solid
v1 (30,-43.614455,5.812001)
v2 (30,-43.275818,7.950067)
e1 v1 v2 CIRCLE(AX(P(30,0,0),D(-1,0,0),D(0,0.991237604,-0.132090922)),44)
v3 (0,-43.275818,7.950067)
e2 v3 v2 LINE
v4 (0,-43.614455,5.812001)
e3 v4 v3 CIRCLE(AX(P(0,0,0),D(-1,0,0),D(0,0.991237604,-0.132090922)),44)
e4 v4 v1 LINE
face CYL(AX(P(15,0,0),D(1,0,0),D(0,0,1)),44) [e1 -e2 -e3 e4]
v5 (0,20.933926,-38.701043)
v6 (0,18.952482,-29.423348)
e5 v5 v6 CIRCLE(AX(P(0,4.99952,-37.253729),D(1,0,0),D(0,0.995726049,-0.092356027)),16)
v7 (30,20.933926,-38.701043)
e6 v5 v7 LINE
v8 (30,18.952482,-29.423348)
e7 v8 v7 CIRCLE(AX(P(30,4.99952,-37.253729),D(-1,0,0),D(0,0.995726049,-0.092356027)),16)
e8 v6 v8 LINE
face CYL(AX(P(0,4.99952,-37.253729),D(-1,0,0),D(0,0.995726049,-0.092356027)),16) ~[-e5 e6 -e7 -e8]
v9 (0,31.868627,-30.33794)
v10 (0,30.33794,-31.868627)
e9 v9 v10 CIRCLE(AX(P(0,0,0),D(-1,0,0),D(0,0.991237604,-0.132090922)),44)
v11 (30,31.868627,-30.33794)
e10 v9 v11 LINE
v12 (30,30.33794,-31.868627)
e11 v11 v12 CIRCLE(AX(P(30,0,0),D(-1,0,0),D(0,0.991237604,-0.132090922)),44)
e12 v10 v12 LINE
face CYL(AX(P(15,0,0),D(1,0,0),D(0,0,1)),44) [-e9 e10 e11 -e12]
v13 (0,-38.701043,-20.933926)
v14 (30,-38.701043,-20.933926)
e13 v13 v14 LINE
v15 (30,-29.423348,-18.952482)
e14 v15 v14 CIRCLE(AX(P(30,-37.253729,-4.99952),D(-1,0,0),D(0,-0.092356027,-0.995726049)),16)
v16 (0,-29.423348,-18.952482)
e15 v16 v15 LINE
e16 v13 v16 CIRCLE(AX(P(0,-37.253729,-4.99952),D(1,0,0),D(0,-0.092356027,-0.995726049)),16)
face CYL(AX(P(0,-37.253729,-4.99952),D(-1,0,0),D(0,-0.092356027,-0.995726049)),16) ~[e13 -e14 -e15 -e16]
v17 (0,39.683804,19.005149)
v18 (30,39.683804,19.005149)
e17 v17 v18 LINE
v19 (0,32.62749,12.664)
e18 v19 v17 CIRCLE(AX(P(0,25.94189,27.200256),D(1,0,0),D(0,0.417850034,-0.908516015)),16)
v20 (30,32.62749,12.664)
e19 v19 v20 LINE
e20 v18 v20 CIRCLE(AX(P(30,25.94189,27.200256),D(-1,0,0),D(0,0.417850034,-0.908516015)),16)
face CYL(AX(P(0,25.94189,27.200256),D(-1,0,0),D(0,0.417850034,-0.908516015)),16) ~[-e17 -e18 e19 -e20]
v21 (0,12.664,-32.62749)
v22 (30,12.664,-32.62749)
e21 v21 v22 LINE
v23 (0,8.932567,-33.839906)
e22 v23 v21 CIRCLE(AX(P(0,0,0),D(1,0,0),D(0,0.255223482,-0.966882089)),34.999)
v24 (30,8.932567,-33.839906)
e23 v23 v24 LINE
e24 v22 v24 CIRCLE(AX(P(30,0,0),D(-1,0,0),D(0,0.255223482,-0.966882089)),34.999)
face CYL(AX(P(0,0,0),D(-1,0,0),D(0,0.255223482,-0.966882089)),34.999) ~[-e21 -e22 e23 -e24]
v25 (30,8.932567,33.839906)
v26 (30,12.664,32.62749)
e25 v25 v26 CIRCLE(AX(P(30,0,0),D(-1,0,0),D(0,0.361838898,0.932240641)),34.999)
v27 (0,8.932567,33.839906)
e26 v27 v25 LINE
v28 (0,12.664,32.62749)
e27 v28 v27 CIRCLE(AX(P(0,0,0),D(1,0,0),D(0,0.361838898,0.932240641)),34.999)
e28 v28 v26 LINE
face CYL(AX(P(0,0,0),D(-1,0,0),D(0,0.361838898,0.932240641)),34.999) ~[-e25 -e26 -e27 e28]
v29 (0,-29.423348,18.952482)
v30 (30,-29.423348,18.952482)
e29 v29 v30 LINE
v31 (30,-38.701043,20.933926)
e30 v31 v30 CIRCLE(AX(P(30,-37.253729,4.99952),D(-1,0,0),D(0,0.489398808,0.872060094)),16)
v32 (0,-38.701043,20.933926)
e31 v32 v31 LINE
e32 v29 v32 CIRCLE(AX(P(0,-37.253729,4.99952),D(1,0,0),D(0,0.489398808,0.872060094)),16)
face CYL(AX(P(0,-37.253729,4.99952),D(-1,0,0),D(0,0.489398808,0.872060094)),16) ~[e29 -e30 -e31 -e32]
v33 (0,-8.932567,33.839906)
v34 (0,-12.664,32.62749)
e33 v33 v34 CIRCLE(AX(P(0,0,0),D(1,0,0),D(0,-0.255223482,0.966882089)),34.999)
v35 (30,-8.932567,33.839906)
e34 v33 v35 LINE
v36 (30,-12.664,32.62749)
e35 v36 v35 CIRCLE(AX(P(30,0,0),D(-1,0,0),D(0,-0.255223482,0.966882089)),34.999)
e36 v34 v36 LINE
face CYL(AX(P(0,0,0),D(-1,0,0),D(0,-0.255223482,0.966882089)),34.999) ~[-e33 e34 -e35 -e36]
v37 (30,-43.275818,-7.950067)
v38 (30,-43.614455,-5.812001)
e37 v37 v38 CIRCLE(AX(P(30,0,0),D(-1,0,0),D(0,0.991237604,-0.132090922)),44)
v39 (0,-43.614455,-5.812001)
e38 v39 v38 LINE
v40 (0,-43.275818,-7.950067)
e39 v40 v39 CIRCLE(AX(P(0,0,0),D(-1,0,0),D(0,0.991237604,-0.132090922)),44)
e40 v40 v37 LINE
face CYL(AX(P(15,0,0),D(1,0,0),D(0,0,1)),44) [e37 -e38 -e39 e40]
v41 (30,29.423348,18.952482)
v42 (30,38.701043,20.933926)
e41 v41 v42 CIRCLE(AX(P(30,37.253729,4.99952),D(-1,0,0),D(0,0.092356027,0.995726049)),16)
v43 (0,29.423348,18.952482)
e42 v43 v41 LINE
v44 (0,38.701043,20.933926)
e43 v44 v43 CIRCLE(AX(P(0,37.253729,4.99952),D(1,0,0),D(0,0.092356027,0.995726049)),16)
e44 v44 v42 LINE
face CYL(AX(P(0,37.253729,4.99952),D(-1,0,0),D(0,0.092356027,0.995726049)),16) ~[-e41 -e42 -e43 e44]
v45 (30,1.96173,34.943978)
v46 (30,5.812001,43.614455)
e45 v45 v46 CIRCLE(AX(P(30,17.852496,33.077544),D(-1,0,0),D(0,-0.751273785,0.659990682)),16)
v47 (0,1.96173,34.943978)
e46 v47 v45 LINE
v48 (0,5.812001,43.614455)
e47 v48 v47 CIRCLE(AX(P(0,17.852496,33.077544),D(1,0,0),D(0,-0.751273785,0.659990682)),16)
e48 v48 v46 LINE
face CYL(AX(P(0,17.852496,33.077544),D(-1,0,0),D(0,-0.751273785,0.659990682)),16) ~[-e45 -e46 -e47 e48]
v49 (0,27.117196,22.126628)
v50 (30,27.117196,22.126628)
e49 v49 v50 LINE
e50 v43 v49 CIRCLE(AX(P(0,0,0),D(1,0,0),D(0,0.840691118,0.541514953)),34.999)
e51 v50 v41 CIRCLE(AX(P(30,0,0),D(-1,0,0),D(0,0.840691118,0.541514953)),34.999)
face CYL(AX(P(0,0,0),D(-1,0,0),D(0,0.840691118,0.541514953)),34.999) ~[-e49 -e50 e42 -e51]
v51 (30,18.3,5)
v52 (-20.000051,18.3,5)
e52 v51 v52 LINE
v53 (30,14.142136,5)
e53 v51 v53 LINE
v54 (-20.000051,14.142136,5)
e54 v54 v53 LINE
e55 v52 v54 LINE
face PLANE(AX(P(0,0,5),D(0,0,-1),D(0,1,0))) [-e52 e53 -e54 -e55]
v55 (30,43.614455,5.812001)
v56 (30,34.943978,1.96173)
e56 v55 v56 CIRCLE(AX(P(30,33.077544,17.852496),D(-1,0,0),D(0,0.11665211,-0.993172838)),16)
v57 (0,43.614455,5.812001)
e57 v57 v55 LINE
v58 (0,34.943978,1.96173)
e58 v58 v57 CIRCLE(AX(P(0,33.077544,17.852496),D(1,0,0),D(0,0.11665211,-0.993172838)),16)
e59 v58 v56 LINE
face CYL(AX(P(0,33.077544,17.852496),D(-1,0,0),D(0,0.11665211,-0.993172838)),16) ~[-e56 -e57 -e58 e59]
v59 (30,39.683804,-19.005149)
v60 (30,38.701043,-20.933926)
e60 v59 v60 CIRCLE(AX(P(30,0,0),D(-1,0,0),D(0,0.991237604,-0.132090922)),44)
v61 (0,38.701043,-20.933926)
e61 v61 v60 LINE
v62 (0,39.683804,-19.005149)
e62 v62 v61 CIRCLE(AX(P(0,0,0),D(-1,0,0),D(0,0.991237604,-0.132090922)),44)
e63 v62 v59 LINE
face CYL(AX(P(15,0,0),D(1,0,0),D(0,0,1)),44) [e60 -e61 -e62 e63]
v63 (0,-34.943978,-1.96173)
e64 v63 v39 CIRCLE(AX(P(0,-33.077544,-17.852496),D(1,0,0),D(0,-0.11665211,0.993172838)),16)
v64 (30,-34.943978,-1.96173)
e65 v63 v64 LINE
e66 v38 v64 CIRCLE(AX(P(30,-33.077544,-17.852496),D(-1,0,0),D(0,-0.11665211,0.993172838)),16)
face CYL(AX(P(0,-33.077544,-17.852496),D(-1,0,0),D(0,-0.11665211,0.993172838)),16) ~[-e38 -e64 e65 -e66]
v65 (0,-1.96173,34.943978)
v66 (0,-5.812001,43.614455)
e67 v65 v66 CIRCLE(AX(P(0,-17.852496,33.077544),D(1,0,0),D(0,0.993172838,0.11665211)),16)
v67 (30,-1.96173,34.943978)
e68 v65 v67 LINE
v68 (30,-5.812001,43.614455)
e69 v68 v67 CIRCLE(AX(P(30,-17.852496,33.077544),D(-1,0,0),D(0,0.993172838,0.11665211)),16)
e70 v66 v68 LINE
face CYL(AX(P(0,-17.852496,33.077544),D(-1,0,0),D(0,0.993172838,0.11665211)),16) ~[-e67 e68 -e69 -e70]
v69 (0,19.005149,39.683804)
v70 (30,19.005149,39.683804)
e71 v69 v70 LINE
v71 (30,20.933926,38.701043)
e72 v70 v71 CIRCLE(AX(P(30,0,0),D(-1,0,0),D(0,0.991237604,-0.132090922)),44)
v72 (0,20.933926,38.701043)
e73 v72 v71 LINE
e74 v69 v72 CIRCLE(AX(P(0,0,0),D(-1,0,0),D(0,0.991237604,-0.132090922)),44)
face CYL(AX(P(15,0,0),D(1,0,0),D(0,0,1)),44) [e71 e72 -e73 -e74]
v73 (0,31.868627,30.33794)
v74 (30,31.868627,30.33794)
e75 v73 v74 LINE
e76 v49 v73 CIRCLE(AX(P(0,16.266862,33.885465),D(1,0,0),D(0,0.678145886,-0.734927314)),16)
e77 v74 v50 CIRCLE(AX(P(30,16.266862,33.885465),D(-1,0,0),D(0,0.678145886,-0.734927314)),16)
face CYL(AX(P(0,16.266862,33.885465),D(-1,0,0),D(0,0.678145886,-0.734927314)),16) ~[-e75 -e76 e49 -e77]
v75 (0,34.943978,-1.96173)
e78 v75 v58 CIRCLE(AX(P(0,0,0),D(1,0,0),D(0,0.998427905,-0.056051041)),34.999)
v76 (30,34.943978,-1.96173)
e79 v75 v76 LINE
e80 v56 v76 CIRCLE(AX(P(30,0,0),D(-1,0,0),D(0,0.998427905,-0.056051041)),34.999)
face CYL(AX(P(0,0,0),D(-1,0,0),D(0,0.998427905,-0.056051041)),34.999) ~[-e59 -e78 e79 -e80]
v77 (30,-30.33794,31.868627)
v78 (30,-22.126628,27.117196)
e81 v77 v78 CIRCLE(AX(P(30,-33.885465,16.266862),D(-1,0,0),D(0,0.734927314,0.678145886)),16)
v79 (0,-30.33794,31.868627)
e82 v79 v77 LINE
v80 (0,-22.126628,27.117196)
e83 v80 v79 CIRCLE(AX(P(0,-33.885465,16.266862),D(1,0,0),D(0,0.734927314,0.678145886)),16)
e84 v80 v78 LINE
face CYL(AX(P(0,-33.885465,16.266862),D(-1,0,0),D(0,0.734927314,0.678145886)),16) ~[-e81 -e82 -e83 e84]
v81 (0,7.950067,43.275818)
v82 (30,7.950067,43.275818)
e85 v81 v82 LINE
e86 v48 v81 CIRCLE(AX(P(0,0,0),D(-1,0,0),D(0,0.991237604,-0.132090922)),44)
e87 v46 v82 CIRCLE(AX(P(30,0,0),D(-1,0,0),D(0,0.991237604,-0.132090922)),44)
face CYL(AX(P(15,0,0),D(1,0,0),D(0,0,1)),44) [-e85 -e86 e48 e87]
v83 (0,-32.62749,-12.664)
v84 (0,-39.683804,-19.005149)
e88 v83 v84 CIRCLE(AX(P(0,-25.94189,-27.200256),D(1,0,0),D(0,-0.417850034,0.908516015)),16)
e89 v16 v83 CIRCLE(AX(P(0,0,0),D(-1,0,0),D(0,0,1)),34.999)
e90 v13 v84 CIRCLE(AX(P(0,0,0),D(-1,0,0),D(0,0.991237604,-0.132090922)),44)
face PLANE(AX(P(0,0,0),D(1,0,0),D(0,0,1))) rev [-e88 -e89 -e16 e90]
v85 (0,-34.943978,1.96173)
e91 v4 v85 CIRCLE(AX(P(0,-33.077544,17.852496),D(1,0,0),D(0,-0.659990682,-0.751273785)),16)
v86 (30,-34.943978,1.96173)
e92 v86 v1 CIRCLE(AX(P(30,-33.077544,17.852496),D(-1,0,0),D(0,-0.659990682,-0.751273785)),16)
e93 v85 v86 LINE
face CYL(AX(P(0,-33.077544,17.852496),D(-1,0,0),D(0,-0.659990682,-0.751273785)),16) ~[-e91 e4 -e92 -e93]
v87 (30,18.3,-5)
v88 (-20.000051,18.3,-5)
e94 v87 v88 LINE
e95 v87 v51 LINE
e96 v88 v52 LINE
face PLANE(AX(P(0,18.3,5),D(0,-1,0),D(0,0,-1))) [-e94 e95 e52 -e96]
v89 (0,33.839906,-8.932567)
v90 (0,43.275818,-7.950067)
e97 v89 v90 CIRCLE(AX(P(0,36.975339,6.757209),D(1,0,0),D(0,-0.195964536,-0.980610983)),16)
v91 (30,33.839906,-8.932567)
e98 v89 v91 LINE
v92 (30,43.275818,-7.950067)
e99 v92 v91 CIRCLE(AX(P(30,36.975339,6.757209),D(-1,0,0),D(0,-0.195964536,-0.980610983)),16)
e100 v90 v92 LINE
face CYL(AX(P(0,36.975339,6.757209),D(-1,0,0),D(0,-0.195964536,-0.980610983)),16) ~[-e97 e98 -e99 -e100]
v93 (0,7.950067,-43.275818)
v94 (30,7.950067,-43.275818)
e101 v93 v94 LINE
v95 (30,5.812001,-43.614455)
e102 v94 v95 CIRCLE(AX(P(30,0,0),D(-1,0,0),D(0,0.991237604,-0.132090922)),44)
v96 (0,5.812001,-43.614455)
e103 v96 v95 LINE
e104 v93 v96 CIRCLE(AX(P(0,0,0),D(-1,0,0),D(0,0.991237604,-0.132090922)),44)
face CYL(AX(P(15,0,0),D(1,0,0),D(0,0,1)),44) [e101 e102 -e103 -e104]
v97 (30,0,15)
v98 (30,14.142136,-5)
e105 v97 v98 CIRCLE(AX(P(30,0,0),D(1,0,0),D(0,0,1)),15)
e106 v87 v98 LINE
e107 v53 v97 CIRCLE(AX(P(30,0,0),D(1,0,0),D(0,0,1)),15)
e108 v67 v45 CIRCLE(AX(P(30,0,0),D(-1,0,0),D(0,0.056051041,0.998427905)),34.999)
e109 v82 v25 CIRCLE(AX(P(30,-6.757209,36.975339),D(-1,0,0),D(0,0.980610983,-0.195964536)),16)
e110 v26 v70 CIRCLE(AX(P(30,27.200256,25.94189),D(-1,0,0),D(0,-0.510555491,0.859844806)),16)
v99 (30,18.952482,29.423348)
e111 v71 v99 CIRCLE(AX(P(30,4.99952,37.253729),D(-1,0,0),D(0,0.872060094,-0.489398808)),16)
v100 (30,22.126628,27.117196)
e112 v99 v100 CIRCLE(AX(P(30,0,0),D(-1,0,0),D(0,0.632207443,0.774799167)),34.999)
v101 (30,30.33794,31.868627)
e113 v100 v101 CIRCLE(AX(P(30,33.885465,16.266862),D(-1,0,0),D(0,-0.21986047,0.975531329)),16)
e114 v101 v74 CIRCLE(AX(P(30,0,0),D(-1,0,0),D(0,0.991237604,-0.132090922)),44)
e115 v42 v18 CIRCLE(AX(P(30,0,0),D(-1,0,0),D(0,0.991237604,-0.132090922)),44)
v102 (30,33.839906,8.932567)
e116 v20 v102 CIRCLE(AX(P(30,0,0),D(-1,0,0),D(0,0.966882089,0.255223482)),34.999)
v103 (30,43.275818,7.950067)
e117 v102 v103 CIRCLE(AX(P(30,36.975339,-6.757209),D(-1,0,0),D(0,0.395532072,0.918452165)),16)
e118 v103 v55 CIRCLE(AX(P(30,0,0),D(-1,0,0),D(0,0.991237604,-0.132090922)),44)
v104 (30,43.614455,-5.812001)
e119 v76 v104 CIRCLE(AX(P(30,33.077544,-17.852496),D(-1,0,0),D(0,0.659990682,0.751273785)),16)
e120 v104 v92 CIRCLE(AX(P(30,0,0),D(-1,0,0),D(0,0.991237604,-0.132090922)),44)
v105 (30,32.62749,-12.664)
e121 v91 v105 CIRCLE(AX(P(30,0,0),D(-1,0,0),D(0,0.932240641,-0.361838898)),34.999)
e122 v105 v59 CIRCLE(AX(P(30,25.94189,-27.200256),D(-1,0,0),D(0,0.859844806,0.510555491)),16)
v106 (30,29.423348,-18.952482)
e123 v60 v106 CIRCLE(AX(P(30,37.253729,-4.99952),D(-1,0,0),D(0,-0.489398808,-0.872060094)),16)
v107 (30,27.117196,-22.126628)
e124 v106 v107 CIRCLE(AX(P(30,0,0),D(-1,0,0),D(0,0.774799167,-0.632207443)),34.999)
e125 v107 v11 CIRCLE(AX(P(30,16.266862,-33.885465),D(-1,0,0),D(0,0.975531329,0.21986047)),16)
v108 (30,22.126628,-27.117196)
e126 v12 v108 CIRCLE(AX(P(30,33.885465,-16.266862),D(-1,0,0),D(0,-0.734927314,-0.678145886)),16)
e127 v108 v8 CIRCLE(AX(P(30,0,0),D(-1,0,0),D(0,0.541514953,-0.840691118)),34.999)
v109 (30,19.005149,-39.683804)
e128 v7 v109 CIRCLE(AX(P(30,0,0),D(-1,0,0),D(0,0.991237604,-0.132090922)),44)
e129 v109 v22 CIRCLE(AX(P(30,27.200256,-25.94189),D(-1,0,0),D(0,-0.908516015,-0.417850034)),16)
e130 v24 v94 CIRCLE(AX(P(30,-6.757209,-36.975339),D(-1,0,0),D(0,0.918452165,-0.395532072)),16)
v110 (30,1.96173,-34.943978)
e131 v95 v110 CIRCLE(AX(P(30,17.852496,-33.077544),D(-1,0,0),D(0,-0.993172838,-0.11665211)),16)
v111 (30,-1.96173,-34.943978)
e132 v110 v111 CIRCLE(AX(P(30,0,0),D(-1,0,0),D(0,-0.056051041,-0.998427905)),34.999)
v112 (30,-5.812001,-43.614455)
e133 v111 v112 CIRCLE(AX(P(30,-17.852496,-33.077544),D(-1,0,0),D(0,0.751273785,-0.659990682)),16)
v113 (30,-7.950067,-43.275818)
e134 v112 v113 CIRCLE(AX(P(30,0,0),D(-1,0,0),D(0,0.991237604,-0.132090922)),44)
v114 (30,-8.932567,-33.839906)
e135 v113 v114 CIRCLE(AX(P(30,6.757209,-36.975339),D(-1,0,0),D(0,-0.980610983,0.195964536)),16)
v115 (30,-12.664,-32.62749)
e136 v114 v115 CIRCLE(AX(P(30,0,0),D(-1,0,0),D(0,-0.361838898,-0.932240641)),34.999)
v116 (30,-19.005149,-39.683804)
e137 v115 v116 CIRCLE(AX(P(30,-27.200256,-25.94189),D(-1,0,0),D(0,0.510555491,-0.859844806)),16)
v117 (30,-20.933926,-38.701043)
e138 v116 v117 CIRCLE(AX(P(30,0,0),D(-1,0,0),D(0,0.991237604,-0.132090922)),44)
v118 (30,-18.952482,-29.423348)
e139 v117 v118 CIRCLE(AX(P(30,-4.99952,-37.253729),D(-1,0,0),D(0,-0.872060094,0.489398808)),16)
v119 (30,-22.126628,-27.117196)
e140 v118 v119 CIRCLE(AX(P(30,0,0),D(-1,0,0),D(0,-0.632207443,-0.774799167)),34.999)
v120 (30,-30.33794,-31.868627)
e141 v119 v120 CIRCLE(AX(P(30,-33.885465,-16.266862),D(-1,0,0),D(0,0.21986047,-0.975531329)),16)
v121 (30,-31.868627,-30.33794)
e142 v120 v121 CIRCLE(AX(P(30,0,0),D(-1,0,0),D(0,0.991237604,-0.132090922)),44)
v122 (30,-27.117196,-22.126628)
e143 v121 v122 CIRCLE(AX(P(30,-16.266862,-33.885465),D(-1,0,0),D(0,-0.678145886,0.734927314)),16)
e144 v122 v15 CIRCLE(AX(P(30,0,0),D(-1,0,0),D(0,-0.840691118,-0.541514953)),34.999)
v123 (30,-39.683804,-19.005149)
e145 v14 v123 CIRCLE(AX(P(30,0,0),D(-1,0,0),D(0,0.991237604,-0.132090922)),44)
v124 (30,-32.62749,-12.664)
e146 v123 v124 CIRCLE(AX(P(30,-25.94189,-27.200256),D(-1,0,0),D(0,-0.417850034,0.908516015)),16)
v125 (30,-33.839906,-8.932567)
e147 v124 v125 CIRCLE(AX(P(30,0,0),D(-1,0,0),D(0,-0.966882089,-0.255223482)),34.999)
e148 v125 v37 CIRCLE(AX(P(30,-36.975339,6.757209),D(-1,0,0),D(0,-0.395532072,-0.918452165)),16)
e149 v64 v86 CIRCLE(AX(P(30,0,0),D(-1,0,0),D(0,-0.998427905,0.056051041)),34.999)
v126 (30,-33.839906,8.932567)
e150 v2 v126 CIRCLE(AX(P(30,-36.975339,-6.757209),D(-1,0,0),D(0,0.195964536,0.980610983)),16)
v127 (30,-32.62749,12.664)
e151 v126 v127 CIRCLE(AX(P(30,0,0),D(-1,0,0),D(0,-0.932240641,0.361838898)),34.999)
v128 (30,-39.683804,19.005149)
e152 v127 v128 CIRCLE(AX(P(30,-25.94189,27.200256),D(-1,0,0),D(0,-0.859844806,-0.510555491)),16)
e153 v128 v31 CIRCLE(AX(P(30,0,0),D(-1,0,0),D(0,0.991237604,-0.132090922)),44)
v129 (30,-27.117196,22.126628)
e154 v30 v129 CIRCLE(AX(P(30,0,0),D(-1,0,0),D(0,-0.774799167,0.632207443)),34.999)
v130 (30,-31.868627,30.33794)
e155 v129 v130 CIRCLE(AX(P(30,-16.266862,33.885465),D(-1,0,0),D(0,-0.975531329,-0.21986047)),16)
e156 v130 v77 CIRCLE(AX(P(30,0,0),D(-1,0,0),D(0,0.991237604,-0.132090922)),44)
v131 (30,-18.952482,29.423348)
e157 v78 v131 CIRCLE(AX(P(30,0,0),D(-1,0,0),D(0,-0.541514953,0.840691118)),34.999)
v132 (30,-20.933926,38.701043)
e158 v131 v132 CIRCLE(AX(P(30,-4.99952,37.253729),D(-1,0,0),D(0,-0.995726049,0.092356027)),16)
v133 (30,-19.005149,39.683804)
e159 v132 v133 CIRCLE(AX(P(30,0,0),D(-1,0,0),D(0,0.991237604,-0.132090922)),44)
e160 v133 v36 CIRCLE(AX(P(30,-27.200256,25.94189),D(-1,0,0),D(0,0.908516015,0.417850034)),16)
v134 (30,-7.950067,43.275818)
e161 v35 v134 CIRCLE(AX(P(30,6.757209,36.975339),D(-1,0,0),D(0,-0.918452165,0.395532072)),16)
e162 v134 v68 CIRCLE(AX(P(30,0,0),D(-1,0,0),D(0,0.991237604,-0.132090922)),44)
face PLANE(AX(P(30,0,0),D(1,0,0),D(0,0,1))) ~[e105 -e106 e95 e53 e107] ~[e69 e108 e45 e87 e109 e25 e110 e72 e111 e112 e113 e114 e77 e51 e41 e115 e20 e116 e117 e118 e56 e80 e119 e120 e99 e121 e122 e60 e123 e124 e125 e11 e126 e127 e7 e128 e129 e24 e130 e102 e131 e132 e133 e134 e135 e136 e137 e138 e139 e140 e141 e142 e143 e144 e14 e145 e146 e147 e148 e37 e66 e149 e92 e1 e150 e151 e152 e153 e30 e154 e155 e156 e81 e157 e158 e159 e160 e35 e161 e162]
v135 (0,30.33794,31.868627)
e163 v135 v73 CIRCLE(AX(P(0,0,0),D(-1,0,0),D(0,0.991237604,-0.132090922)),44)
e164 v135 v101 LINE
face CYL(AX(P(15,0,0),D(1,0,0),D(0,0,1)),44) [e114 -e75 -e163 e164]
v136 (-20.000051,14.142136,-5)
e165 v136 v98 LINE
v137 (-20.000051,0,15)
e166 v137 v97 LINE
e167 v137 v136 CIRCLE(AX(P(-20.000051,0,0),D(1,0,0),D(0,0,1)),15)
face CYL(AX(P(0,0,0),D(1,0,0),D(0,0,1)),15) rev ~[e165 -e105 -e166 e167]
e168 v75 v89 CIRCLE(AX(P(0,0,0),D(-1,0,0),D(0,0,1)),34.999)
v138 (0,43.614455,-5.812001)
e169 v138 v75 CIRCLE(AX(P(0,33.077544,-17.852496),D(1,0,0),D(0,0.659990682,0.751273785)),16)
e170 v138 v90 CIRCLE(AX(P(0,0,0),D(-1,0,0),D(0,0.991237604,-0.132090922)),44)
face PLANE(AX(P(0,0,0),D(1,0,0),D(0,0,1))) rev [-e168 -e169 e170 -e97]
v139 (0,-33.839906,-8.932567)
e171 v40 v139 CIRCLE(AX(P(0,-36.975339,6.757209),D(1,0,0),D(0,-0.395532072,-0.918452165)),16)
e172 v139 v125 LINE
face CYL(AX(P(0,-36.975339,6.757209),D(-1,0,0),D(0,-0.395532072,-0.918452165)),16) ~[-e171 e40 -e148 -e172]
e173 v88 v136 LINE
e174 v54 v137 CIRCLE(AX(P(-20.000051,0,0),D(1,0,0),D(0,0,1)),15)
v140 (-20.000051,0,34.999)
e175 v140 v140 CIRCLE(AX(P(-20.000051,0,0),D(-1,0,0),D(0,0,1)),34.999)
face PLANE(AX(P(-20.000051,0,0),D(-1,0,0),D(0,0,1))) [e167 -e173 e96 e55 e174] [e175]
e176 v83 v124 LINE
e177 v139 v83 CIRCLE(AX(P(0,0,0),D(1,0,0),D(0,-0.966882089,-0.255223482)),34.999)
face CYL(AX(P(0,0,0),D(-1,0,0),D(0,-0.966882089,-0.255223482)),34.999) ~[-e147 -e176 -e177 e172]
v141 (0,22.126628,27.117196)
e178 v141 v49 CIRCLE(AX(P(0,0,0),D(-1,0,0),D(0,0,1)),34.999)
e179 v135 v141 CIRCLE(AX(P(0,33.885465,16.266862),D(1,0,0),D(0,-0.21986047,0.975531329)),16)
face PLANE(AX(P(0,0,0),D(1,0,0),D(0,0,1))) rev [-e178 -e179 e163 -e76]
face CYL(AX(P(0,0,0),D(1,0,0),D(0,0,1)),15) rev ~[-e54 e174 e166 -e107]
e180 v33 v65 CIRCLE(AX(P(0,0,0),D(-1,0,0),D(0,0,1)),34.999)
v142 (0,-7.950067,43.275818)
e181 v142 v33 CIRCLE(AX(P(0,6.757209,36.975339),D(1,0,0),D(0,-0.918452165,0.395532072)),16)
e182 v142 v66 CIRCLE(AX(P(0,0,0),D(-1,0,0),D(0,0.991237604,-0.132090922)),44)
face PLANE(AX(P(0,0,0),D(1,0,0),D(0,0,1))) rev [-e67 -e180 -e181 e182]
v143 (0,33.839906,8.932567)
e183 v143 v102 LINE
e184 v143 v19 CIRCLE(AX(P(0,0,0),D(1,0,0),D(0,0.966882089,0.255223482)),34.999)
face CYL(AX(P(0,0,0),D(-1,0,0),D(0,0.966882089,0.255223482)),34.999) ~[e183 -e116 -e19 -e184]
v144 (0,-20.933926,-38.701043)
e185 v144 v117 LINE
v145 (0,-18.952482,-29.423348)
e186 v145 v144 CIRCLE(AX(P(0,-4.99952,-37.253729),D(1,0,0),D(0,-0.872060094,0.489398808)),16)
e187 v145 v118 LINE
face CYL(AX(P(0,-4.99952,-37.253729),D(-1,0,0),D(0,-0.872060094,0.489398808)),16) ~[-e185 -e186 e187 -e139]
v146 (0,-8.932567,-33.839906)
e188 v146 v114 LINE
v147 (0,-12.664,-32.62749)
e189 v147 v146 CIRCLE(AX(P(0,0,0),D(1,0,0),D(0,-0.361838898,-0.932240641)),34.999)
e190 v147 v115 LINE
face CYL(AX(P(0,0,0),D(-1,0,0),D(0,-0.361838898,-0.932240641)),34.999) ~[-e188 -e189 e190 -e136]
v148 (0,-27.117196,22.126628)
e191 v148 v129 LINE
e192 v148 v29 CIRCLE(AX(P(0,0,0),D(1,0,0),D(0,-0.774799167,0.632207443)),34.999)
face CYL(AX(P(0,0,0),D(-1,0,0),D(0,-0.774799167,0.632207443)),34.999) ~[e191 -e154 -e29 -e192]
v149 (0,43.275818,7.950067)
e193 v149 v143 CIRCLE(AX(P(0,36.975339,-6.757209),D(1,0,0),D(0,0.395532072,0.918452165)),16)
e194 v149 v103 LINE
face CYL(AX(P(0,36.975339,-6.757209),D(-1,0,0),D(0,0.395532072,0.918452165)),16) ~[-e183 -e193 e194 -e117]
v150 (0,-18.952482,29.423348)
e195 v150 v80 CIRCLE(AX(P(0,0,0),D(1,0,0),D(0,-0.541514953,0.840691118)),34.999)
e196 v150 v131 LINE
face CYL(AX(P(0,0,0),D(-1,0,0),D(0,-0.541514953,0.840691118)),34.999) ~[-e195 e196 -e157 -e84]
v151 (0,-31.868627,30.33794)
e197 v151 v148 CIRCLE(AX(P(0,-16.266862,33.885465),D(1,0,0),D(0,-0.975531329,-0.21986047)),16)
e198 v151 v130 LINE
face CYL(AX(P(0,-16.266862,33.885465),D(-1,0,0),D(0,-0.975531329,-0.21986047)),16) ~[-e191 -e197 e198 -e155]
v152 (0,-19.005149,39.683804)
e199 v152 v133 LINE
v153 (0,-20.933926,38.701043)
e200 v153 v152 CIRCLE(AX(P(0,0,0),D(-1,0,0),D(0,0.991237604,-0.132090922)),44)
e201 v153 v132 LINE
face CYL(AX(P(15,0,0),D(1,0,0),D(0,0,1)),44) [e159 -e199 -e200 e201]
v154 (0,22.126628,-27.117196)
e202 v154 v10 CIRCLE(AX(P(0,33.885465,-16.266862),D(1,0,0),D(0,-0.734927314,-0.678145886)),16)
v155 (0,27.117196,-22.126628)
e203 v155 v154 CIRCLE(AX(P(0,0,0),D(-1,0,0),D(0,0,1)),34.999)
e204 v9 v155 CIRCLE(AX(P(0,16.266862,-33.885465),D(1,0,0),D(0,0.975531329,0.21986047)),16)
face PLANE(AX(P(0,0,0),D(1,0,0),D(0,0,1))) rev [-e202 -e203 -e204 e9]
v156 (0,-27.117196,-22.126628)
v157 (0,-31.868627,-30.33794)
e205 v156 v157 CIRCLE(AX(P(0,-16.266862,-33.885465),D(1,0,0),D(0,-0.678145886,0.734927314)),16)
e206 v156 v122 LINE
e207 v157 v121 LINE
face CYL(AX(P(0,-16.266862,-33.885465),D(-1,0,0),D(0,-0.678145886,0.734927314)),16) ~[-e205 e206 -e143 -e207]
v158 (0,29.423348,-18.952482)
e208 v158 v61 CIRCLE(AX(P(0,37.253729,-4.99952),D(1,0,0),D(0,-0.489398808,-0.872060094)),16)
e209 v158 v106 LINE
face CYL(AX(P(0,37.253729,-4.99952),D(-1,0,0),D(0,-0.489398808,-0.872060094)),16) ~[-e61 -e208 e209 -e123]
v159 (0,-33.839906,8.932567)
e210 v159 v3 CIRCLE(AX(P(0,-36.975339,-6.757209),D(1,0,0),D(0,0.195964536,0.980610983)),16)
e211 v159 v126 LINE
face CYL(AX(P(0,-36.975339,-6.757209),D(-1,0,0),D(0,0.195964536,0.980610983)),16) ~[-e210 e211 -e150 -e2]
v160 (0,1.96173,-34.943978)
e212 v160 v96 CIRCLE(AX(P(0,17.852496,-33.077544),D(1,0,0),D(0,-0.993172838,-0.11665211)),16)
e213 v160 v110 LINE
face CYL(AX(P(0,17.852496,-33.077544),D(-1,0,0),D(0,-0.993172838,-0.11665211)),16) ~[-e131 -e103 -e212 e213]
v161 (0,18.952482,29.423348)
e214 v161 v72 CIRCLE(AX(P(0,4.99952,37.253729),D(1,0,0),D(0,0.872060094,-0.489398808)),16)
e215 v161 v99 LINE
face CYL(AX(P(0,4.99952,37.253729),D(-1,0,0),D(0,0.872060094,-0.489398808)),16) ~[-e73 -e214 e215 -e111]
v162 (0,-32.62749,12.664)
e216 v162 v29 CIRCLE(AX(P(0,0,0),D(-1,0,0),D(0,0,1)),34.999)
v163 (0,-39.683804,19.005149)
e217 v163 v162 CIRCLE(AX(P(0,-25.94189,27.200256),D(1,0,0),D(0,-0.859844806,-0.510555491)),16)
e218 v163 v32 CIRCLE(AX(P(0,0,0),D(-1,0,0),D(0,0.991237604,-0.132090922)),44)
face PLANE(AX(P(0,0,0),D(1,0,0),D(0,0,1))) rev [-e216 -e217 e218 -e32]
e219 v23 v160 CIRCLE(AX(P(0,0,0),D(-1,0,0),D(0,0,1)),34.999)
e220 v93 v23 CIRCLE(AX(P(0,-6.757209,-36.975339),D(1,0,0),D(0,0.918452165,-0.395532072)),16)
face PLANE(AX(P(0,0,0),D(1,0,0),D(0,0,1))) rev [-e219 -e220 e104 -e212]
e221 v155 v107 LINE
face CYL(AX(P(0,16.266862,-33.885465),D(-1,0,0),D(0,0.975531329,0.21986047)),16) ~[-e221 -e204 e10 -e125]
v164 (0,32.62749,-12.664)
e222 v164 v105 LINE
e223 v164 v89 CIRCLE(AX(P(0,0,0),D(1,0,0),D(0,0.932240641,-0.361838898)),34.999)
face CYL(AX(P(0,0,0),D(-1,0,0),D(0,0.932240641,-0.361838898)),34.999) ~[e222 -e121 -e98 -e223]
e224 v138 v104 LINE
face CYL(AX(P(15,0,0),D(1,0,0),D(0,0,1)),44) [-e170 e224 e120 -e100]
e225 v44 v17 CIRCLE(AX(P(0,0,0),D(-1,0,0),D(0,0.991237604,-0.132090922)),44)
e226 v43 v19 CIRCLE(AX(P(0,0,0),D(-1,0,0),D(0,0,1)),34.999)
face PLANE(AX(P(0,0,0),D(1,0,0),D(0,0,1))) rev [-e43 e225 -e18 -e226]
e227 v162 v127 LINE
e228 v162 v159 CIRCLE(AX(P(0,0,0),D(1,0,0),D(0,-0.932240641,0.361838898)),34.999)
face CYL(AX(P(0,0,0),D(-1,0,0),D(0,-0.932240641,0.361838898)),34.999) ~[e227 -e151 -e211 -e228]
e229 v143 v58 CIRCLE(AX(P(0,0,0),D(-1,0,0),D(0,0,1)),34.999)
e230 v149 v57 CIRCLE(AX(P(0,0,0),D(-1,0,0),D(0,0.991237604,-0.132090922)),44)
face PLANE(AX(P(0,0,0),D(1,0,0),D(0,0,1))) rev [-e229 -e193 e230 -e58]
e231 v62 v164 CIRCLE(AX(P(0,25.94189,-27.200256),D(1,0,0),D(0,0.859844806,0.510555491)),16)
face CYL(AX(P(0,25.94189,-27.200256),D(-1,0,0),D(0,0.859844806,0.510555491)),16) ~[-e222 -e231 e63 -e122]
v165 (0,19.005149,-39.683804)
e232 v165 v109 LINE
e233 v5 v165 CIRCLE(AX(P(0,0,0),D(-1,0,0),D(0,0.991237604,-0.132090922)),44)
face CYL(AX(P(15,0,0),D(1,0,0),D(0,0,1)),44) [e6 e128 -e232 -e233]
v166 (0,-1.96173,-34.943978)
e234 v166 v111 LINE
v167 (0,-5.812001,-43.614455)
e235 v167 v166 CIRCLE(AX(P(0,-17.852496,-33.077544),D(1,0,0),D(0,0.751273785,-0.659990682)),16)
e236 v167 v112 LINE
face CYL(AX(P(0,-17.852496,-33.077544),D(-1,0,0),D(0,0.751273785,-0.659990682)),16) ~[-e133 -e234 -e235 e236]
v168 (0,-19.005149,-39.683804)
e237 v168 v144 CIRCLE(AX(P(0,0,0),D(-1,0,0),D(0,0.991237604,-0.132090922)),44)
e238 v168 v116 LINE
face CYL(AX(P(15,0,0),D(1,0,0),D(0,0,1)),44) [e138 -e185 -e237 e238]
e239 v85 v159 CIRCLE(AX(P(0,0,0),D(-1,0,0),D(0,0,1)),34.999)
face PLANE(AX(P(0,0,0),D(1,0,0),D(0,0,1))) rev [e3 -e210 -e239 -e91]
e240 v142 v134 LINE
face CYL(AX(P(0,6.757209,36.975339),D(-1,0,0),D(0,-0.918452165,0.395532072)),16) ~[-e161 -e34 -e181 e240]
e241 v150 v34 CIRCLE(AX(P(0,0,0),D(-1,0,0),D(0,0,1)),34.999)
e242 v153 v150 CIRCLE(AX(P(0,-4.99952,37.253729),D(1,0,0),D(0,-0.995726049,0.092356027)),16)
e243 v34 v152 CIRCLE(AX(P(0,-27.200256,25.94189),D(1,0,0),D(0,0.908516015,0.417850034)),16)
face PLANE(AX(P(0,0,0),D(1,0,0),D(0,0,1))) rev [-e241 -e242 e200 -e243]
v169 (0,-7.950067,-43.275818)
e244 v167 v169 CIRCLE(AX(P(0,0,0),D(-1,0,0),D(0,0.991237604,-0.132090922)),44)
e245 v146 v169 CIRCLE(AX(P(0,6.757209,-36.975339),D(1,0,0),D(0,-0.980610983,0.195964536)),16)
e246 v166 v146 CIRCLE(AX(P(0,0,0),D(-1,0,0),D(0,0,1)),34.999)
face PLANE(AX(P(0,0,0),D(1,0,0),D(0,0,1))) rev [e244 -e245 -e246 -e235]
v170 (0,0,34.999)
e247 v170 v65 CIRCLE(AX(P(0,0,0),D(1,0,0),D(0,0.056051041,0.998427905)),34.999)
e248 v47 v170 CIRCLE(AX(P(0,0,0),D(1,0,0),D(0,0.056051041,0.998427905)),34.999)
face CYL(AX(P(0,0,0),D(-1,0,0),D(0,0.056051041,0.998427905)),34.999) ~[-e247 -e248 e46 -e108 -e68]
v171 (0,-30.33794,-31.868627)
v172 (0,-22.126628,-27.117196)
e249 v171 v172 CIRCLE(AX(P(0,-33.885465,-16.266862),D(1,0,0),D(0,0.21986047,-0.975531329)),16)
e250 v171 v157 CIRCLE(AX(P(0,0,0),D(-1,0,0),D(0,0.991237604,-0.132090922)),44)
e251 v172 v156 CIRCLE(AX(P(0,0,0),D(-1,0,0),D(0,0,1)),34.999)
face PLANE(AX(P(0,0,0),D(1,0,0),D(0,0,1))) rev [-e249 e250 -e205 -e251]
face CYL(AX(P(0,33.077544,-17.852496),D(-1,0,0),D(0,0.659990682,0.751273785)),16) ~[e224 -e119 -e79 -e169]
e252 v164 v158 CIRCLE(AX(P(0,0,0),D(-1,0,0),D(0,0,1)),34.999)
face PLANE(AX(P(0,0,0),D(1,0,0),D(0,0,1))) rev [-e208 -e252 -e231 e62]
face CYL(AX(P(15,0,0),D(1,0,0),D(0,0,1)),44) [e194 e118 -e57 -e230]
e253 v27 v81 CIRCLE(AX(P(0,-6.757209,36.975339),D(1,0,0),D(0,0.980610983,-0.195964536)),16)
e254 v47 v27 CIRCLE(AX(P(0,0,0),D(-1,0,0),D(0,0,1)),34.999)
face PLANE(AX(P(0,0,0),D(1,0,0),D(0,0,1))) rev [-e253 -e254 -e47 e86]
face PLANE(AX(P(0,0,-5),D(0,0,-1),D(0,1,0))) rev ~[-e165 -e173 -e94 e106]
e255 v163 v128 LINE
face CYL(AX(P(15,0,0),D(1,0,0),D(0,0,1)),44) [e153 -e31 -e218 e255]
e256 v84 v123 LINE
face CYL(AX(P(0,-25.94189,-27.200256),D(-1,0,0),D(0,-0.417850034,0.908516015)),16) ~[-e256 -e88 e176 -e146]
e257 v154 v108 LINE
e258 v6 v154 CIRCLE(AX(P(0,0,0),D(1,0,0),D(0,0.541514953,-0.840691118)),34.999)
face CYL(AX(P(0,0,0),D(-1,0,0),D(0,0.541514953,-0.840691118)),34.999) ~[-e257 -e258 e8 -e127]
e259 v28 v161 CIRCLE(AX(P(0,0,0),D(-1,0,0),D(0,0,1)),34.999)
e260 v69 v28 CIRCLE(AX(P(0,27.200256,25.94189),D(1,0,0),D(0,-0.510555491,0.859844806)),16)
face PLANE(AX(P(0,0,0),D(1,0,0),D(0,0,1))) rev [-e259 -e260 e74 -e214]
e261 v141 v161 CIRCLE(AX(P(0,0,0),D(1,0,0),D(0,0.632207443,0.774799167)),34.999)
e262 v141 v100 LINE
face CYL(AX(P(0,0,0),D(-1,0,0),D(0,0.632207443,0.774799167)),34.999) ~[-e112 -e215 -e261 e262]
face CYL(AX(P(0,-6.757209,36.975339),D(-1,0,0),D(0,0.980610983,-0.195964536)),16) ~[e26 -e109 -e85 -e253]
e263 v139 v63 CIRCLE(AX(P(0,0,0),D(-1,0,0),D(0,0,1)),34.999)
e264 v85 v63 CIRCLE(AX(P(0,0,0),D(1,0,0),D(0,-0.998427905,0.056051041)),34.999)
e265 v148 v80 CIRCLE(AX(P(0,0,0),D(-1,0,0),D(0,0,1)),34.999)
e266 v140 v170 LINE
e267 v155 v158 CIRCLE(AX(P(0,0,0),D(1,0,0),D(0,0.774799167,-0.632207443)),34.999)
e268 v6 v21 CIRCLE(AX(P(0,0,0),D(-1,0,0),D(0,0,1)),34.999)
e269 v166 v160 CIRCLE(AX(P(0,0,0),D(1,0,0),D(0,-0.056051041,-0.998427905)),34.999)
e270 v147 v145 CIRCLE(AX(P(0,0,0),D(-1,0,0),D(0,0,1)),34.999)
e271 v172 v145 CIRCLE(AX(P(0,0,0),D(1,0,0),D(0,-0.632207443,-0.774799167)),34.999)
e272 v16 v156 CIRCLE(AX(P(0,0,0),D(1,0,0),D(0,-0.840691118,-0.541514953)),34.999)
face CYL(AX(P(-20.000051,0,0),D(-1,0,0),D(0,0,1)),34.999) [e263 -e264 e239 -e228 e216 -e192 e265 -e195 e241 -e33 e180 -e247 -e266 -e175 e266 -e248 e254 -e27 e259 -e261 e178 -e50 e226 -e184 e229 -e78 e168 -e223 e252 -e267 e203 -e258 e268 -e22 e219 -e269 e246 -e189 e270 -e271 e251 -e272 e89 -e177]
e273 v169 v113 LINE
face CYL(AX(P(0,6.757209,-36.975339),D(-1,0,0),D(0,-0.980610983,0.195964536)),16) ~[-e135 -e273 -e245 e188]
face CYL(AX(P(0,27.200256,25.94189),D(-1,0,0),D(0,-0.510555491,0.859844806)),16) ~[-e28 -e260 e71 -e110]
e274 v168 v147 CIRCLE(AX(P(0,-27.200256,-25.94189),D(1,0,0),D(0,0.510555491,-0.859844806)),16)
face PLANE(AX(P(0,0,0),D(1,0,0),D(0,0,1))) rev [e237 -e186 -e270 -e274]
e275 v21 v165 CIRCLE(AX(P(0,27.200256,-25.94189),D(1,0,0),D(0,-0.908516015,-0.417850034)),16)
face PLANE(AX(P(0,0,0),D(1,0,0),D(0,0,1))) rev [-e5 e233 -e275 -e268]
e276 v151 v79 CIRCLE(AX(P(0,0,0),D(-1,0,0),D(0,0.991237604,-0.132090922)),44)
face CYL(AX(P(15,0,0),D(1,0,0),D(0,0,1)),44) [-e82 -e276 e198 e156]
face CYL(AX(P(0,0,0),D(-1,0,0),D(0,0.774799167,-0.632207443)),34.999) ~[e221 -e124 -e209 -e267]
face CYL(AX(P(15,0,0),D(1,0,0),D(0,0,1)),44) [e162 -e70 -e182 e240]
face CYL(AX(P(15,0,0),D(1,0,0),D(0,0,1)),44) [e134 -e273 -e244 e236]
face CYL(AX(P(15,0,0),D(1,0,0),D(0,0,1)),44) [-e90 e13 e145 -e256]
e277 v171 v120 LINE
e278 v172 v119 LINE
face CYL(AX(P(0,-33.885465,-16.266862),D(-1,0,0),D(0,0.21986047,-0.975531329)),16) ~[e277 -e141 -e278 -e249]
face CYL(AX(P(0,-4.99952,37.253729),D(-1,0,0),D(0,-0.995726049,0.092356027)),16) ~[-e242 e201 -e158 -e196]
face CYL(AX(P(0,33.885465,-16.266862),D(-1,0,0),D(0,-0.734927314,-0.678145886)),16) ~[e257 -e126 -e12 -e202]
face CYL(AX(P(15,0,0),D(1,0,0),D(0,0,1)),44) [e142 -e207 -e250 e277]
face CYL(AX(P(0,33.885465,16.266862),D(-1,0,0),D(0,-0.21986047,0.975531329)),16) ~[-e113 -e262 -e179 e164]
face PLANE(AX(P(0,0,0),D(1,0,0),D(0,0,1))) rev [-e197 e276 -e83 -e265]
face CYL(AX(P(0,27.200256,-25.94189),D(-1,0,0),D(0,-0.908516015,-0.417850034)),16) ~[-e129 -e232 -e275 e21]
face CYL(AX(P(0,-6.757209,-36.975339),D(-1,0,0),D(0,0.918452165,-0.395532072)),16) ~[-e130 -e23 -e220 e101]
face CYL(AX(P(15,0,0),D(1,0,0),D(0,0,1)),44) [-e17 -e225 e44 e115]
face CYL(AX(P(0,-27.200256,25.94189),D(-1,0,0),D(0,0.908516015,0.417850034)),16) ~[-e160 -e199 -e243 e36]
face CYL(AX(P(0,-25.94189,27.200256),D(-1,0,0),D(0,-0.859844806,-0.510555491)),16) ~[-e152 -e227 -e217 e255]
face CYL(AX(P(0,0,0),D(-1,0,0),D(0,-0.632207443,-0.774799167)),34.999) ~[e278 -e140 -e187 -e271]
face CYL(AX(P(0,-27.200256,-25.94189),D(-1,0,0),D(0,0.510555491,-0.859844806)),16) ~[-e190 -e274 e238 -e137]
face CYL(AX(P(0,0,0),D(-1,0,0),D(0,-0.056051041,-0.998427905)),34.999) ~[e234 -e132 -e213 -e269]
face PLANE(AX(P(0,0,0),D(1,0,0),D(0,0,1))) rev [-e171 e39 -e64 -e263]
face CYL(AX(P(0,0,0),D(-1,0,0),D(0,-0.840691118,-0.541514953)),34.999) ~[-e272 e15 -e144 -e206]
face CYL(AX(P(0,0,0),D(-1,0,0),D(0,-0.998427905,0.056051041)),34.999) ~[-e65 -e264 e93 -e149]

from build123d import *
from build123d.topology import SkipClean

# Parameters (mm, degrees)
BASPROSKE_W      = 30
BASPROSKE_H      = 44
TOOTHCUT_DEPTH   = 70.079664157
TEETHCUTS_COUNT  = 20
TEETHCUTS_ANGLE  = 342
HUBNEARONE_START = 20.0000508
HUBNEAONESKE_R   = 34.999
HUBNEARONE_DEPTH = 20.0000508
BORSKE_R         = 15
BORE_DEPTH       = 50.0000508
KEYSKE_W         = 10
KEYSKE_H         = 18.3
KEYWAY_DEPTH     = 50.0000508


with BuildPart() as part:
    # BasProSke → Base-Revolve (revolve)
    with BuildSketch(Plane(origin=(0, 0, 0), x_dir=(1, 0, 0), z_dir=(0, 1, 0)), mode=Mode.PRIVATE) as base_revolve_sk:
        with Locations((15, 22)):
            Rectangle(BASPROSKE_W, BASPROSKE_H)
    revolve(base_revolve_sk.sketch.rotate(Axis((-10, 0, 0), (1, 0, 0)), 180), axis=Axis((-10, 0, 0), (1, 0, 0)))

    # TooCutSke → ToothCut (cut, through all)
    with BuildSketch(Plane(origin=(0, 0, 0), x_dir=(0, 0, -1), z_dir=(1, 0, 0))):
        with BuildLine():
            ThreePointArc((1.961730392, 34.943978235), (0, 34.999), (-1.961730392, 34.943978235))
            ThreePointArc((-1.961730392, 34.943978235), (-3.235659864, 39.585086827), (-5.832115241, 43.637395396))
            ThreePointArc((-5.832115241, 43.637395396), (0, 44.0254), (5.832115241, 43.637395396))
            ThreePointArc((5.832115241, 43.637395396), (3.235659864, 39.585086827), (1.961730392, 34.943978235))
        make_face()
    toothcut = extrude(amount=TOOTHCUT_DEPTH, mode=Mode.SUBTRACT)

    # TeethCuts: ToothCut ×20 about axis
    teethcuts_axis = Axis((-10, 0, 0), (1, 0, 0))
    for i in range(1, TEETHCUTS_COUNT):
        add(toothcut.rotate(teethcuts_axis, i * TEETHCUTS_ANGLE / (TEETHCUTS_COUNT - 1)), mode=Mode.SUBTRACT)

    # HubNeaOneSke → HubNearOne (add)
    with SkipClean():  # the faces are left unmerged after this step: merging them gives an invalid solid
        with BuildSketch(Plane.ZY.offset(HUBNEARONE_START)):
            Circle(HUBNEAONESKE_R)
        extrude(amount=-HUBNEARONE_DEPTH)

    # BorSke → Bore (cut, symmetric)
    with SkipClean():  # the faces are left unmerged after this step: merging them gives an invalid solid
        with BuildSketch(Plane(origin=(0, 0, 0), x_dir=(0, 0, -1), z_dir=(1, 0, 0))):
            with Locations(Location((0, 0, 0), (0, 0, 180))):
                Circle(BORSKE_R)
        extrude(amount=BORE_DEPTH, both=True, mode=Mode.SUBTRACT)

    # KeySke → Keyway (cut, symmetric)
    with SkipClean():  # the faces are left unmerged after this step: merging them gives an invalid solid
        with BuildSketch(Plane(origin=(0, 0, 0), x_dir=(0, 0, -1), z_dir=(1, 0, 0))):
            with Locations((0, 9.15)):
                Rectangle(KEYSKE_W, KEYSKE_H)
        extrude(amount=KEYWAY_DEPTH, both=True, mode=Mode.SUBTRACT)


solid = part.part
